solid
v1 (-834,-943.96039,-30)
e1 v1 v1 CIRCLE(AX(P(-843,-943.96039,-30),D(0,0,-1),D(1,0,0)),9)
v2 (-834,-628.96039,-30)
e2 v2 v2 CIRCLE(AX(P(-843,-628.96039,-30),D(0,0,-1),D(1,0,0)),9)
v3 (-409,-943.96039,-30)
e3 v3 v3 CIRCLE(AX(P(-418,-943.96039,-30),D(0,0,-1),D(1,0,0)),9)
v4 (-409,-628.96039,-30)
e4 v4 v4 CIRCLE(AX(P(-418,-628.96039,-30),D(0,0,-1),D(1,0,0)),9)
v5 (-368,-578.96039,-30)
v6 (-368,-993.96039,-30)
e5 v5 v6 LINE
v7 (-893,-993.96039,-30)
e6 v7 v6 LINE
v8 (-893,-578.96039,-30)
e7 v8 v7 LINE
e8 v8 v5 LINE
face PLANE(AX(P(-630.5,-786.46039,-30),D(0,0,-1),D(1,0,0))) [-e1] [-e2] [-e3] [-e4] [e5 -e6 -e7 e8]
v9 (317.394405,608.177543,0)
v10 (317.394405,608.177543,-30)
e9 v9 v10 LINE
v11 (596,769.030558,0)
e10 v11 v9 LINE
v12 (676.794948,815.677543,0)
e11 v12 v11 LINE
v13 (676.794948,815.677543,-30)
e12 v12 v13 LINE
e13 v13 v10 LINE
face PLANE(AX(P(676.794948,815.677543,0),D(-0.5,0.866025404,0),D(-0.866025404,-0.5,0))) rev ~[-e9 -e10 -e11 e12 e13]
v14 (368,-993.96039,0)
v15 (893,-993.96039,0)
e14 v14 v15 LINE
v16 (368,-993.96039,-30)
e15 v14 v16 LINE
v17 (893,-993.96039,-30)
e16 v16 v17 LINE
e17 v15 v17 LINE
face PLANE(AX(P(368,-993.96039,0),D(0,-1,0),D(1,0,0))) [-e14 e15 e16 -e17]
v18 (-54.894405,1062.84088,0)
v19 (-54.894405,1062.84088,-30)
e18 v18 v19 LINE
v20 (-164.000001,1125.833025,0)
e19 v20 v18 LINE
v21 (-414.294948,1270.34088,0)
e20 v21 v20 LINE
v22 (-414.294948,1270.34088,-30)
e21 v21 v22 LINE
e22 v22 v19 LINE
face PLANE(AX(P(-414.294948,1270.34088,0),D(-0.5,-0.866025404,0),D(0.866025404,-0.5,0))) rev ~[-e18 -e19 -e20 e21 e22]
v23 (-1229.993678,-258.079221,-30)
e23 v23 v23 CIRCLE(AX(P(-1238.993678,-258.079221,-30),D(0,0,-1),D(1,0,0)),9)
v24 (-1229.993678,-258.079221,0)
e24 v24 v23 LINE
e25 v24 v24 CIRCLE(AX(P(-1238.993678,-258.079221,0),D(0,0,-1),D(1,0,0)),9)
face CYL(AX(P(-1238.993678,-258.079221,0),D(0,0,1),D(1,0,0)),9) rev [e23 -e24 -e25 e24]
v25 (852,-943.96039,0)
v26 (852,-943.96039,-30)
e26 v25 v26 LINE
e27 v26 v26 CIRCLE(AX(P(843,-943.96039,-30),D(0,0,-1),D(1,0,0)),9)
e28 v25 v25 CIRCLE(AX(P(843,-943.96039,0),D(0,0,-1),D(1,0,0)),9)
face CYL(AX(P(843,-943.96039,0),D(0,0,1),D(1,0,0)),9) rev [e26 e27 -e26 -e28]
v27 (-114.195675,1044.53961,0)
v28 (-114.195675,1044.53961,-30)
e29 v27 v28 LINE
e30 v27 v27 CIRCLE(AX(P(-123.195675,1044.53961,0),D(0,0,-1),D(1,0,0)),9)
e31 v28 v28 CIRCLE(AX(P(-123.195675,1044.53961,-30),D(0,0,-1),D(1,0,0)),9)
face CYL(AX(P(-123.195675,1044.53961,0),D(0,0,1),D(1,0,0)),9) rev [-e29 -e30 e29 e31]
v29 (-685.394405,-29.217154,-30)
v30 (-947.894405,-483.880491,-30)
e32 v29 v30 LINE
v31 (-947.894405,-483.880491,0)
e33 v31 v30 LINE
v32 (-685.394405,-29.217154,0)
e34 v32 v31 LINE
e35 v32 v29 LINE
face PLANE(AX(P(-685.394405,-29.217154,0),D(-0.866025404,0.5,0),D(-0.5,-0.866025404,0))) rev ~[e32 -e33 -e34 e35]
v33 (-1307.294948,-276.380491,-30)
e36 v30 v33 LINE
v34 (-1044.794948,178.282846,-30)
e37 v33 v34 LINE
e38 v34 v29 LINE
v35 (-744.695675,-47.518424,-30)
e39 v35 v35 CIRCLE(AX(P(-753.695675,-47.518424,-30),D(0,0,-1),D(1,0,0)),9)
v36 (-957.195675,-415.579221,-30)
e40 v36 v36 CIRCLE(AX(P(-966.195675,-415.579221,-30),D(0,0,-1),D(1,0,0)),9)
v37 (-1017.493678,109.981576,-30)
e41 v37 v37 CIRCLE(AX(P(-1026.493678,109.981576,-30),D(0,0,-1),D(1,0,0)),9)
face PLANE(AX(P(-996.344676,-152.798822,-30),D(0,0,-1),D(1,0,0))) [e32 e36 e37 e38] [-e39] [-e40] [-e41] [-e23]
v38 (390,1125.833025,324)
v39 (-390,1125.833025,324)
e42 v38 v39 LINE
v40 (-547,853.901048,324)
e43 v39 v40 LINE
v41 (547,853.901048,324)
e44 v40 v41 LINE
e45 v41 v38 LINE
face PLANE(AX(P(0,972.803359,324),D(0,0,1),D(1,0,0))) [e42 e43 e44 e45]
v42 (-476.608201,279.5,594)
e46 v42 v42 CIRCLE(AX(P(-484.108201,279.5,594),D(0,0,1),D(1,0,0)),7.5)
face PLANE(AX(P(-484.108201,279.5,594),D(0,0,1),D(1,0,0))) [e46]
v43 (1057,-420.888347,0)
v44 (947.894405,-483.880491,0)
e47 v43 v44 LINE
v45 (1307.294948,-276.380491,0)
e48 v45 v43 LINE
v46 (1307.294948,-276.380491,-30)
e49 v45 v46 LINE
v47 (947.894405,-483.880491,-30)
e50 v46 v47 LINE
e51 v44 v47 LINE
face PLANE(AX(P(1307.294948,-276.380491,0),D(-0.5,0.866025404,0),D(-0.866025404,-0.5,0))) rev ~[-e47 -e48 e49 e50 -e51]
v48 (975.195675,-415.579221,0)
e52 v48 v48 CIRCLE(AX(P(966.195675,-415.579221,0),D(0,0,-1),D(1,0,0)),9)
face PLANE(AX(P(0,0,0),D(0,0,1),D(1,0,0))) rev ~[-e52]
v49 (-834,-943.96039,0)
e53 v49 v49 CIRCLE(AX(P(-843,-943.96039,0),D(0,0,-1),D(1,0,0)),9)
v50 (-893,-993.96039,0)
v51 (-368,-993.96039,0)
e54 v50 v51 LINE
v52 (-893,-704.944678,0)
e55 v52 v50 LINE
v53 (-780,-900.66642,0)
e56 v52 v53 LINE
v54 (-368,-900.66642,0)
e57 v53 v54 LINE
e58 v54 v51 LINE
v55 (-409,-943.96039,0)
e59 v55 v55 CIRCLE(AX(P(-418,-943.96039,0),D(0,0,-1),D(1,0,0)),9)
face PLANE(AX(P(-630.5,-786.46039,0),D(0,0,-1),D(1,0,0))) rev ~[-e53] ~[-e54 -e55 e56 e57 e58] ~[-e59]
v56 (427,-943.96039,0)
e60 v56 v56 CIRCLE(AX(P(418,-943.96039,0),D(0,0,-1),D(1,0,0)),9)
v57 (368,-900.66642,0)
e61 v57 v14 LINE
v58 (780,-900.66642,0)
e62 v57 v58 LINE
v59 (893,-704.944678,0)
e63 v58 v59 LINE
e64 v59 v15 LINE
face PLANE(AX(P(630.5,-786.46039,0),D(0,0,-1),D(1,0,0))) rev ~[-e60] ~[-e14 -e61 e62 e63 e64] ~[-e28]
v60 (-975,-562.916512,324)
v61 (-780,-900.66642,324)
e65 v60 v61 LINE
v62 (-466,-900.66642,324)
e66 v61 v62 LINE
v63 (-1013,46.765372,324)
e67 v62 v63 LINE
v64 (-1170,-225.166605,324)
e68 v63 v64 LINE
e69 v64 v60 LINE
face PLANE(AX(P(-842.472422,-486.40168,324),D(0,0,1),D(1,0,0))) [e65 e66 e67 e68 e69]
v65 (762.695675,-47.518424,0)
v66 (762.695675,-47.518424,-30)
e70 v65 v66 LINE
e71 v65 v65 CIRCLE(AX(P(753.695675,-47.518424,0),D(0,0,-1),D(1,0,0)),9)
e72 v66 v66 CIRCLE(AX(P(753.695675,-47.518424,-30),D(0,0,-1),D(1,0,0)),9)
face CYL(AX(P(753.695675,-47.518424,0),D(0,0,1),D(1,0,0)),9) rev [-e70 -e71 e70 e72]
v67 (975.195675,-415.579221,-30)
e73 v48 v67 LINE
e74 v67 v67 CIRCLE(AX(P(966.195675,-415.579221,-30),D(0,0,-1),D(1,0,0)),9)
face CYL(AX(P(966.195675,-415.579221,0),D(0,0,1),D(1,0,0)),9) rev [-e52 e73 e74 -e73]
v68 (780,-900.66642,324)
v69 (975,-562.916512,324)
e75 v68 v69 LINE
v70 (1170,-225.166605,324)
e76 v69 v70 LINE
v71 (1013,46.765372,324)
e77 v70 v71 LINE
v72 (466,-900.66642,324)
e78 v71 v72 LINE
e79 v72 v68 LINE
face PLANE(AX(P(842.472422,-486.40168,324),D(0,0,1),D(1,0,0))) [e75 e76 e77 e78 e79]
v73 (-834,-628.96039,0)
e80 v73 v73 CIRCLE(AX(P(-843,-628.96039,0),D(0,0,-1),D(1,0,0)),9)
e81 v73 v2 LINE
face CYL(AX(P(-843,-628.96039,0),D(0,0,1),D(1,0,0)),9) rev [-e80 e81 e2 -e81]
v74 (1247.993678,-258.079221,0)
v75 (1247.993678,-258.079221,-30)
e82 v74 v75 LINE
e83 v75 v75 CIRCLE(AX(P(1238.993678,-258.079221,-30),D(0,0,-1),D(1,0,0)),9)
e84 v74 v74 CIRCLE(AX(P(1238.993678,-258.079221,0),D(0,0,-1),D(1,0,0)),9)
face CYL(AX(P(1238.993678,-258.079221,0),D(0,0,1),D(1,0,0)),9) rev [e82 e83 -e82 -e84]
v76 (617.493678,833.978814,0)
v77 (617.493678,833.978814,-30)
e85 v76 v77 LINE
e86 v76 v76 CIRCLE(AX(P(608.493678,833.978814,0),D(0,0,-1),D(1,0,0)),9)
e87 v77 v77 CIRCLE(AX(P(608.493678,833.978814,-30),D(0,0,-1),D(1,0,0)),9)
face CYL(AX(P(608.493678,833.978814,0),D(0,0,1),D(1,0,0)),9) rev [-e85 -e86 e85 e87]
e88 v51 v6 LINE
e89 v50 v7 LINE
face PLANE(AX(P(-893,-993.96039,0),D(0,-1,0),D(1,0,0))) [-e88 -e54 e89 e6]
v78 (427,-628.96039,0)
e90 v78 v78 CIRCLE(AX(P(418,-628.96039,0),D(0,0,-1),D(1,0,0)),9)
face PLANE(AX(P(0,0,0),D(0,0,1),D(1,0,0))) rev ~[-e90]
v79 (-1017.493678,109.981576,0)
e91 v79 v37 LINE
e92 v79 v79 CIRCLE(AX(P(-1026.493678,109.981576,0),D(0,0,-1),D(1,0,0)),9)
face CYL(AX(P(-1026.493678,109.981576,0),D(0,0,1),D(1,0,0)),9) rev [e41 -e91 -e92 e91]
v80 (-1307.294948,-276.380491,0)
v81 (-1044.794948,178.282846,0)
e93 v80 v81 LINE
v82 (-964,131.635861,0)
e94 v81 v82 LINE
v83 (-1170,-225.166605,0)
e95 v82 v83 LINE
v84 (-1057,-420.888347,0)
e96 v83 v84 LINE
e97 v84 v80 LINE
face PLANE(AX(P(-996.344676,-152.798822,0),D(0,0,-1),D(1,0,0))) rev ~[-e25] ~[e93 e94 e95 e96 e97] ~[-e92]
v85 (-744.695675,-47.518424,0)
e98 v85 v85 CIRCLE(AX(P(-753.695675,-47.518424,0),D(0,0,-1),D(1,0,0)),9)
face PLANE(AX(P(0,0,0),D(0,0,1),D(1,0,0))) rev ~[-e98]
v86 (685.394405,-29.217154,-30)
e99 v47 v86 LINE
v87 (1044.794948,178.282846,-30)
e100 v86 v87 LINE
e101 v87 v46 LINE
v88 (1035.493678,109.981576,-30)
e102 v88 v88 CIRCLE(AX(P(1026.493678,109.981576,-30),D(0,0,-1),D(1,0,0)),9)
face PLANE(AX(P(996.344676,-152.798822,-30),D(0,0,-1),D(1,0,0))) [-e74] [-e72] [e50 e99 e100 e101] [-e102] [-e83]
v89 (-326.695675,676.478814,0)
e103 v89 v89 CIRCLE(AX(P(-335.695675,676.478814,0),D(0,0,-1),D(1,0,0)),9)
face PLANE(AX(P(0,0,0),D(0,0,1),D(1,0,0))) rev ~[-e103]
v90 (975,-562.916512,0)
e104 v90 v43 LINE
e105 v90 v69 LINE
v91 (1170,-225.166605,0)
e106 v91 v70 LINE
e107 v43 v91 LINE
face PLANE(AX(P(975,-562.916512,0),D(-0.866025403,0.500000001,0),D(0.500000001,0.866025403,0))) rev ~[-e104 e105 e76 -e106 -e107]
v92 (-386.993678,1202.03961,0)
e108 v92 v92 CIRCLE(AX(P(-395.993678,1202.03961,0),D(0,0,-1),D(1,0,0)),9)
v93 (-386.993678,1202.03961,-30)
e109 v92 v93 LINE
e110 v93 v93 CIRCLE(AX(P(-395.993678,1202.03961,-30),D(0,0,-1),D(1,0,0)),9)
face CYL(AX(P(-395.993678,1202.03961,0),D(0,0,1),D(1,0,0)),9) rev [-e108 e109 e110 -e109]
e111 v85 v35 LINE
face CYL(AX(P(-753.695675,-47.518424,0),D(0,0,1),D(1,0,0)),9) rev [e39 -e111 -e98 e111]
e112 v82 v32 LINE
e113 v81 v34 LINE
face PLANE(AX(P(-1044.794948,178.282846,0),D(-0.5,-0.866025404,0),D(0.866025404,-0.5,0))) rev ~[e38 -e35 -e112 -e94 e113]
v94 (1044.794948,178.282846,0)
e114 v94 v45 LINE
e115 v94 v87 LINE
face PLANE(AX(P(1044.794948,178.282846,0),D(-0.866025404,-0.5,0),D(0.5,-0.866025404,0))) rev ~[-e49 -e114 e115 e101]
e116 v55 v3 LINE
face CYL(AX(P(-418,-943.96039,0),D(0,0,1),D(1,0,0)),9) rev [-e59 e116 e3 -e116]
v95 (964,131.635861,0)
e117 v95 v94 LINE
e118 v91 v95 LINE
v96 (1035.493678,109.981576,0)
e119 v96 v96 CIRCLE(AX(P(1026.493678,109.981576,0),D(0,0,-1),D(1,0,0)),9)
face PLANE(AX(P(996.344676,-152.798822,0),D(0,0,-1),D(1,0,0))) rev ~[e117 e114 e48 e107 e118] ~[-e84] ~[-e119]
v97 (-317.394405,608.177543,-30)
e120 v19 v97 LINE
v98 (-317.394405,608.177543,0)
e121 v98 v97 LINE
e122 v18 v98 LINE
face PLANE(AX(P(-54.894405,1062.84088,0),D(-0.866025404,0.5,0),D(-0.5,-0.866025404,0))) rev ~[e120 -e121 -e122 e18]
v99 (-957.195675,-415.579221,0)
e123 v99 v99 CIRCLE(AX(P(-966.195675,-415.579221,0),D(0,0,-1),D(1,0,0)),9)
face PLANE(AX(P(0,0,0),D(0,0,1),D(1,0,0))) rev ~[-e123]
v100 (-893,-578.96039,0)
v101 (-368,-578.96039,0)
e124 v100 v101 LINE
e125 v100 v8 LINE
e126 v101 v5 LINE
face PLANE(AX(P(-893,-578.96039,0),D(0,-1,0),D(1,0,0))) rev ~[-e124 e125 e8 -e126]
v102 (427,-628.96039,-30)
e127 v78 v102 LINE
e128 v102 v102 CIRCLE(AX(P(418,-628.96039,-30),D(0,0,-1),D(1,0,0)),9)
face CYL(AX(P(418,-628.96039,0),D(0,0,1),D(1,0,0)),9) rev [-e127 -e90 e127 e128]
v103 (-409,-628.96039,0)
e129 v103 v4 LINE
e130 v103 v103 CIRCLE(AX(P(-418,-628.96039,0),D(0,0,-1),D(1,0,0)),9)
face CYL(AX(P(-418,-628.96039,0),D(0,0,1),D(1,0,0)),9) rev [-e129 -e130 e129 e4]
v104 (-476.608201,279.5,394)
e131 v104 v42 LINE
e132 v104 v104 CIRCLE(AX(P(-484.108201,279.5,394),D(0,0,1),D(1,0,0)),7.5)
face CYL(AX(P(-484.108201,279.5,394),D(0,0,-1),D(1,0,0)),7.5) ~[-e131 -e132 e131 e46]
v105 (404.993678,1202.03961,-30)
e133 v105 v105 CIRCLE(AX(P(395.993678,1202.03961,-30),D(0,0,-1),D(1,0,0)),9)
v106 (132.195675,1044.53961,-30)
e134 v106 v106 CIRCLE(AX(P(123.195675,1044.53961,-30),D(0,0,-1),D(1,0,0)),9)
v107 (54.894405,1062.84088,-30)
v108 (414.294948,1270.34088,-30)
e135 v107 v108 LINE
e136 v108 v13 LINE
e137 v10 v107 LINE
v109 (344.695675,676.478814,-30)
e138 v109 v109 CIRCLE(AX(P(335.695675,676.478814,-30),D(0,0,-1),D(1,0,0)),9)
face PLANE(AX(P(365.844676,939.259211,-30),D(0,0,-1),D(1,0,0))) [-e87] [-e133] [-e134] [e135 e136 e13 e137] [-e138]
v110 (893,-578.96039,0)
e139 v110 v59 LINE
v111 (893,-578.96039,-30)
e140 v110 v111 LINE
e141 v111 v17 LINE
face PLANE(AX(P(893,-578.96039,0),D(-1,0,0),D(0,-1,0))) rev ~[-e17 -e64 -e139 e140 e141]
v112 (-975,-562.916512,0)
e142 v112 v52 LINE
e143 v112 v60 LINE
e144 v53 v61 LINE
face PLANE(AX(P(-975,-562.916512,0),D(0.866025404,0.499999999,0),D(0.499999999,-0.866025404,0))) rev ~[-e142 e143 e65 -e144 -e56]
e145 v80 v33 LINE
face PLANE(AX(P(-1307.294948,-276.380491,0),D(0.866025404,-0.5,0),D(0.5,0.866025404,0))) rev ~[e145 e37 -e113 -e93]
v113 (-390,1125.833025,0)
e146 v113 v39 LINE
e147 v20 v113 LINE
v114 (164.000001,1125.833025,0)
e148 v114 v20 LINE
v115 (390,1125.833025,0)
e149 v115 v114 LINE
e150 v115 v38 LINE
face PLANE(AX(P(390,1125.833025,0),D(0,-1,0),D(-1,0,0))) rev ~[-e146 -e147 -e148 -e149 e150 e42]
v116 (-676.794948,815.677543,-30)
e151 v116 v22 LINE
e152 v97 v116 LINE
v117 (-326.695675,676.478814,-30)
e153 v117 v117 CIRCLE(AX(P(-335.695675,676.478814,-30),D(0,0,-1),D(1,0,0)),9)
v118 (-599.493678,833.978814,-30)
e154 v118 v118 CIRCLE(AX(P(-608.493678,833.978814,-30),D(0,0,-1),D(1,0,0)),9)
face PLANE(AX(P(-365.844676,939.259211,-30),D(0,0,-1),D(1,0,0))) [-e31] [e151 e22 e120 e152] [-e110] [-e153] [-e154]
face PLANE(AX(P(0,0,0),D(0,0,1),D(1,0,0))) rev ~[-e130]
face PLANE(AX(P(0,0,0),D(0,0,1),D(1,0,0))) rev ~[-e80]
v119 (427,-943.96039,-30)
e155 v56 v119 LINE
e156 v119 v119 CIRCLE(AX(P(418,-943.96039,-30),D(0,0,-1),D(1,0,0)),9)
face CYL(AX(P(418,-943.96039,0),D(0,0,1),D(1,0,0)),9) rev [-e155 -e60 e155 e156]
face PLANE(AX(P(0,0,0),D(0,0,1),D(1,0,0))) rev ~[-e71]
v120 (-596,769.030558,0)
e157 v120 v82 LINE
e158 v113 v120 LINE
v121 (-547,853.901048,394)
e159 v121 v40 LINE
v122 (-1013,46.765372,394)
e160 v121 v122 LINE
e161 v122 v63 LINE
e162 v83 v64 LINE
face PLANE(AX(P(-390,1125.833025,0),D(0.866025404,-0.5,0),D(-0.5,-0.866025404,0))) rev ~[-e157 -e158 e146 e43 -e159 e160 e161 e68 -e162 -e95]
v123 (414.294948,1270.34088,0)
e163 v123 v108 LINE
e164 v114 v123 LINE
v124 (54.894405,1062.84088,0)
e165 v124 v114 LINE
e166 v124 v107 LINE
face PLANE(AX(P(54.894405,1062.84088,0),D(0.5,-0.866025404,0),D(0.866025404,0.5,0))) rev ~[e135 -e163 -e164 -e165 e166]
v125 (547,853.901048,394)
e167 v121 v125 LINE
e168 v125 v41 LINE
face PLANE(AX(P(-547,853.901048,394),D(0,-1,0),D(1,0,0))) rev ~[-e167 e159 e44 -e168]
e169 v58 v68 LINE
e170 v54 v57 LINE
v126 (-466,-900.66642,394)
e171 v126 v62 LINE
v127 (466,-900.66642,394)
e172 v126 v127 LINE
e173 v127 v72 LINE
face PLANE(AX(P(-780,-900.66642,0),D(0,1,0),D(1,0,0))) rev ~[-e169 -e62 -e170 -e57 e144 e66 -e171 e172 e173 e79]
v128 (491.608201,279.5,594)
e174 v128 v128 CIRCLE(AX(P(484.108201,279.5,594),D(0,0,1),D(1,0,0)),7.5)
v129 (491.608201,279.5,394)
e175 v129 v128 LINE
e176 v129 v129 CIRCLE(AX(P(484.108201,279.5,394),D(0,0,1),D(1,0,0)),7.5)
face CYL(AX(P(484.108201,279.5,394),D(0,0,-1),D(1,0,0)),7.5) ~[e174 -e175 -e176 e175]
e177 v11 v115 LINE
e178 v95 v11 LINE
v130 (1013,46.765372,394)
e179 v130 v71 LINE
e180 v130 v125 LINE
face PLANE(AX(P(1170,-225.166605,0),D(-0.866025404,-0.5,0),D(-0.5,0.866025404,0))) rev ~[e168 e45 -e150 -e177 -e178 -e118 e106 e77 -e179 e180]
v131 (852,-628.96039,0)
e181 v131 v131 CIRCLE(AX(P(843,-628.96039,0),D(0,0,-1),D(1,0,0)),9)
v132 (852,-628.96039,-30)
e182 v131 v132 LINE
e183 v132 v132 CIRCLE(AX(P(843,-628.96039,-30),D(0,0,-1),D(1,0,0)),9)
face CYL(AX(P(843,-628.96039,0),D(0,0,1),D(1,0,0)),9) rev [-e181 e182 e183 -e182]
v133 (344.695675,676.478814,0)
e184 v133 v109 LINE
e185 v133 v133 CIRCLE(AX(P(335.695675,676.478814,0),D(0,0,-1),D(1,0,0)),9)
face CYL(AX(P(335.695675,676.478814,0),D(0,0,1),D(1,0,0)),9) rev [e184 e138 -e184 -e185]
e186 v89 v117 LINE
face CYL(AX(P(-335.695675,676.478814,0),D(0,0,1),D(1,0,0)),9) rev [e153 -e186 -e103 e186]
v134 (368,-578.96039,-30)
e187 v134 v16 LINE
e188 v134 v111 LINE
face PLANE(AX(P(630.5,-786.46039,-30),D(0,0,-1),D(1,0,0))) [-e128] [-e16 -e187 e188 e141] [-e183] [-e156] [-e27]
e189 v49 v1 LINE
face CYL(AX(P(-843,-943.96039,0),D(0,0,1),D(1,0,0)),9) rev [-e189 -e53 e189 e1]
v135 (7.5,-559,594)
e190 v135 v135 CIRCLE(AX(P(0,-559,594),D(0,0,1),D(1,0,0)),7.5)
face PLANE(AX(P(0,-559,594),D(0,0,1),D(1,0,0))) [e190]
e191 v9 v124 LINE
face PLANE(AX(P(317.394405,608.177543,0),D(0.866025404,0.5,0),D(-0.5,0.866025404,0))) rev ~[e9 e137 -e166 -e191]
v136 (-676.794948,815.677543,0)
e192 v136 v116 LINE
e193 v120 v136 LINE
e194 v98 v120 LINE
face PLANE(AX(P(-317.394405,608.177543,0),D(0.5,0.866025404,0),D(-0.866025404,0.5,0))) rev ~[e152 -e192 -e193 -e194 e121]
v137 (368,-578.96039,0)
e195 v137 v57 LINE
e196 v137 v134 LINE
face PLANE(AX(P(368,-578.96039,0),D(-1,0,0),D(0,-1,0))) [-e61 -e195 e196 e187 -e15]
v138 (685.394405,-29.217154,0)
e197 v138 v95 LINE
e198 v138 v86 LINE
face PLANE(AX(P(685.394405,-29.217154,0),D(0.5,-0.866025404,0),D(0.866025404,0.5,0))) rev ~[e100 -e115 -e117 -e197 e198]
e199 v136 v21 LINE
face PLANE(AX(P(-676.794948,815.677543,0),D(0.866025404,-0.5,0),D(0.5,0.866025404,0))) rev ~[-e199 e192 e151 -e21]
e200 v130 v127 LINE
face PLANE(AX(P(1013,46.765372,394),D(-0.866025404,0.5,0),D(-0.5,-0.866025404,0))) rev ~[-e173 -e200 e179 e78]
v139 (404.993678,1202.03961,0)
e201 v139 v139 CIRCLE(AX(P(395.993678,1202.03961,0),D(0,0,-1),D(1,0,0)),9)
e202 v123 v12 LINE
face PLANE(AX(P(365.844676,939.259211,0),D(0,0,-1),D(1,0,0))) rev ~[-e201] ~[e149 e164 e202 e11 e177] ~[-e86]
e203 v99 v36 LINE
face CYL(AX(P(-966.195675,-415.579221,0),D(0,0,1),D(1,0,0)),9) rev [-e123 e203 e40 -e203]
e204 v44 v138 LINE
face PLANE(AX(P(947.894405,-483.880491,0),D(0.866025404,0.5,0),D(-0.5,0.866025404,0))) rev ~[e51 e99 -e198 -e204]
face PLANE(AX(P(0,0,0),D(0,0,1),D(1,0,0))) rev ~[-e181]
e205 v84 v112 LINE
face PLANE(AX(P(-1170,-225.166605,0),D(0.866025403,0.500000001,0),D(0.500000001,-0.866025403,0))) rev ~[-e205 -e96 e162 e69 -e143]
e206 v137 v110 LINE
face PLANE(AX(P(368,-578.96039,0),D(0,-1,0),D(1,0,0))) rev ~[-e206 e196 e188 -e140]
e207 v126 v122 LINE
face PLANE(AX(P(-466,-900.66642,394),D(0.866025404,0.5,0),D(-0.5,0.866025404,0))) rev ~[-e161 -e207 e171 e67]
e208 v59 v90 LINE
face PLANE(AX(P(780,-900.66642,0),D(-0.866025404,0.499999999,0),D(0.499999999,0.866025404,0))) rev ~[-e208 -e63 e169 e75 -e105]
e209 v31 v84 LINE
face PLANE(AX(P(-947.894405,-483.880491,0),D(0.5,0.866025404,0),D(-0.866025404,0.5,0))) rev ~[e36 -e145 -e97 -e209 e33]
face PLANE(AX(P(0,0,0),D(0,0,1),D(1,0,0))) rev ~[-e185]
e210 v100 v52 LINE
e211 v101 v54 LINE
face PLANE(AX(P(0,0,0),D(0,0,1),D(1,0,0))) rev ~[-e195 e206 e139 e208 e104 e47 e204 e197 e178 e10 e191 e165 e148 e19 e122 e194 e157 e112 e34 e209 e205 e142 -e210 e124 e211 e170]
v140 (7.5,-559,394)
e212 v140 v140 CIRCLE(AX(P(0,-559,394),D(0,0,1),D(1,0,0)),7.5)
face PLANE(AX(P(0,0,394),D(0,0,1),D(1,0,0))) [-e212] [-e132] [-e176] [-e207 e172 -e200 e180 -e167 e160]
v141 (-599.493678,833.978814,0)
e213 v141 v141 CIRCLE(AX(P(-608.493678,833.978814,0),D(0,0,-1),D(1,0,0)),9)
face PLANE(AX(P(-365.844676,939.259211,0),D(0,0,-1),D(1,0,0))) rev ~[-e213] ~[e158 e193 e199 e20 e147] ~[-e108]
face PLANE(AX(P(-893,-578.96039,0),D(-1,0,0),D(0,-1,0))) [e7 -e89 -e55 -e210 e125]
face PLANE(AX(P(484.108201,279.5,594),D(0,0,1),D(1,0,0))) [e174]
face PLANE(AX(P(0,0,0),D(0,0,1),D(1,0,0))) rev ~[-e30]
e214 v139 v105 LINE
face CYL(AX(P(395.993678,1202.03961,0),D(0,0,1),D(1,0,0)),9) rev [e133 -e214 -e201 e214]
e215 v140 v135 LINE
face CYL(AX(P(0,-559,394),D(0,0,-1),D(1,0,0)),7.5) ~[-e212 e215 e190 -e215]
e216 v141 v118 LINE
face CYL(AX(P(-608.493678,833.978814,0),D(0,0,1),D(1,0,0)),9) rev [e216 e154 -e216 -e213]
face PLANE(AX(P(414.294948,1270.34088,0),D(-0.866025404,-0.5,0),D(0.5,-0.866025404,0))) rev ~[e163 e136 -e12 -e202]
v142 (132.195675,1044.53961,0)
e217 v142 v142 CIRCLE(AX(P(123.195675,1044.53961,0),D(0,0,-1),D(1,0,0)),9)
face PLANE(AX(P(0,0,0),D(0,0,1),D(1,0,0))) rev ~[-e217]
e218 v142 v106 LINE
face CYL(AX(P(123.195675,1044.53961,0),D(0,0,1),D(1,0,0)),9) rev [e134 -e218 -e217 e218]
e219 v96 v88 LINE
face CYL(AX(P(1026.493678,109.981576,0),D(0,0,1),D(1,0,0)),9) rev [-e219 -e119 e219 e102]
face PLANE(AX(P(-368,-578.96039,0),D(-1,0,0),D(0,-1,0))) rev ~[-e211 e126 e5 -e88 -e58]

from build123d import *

# Parameters (mm, degrees)
F1_DEPTH = 394
F3_DEPTH = 70
F4_W     = 525
F4_H     = 415
F4_R     = 9
F5_DEPTH = 30
F6_R     = 7.5
F7_DEPTH = 200


with BuildPart() as f1:
    # F0 (on Top) → F1 (new body)
    with BuildSketch(Plane.XY):
        Polygon((390, 1125.833025), (0, 1125.833025), (-390, 1125.833025), (-780, 450.33321), (-1170, -225.166605), (-975, -562.916512), (-780, -900.66642), (0, -900.66642), (780, -900.66642), (975, -562.916512), (1170, -225.166605), (780, 450.33321), align=None)
    extrude(amount=F1_DEPTH)

    # F2 (on face) → F3 (cut)
    with BuildSketch(Plane.XY.offset(394)):
        Polygon((390, 1125.833025), (-390, 1125.833025), (-547, 853.901048), (547, 853.901048), align=None)
        Polygon((1170, -225.166605), (1013, 46.765372), (466, -900.66642), (780, -900.66642), align=None)
        Polygon((-780, -900.66642), (-466, -900.66642), (-1013, 46.765372), (-1170, -225.166605), align=None)
    extrude(amount=-F3_DEPTH, mode=Mode.SUBTRACT)

    # F4 (on face) → F5 (join)
    with BuildSketch(Plane(origin=(0, 0, 0), x_dir=(1, 0, 0), z_dir=(0, 0, -1))):
        with Locations((630.5, 786.46039)):
            Rectangle(F4_W, F4_H)
        with Locations((418, 628.96039)):
            Circle(F4_R, mode=Mode.SUBTRACT)
        with Locations((418, 943.96039)):
            Circle(F4_R, mode=Mode.SUBTRACT)
        with Locations((843, 628.96039)):
            Circle(F4_R, mode=Mode.SUBTRACT)
        with Locations((843, 943.96039)):
            Circle(F4_R, mode=Mode.SUBTRACT)
        with Locations((-630.5, 786.46039)):
            Rectangle(F4_W, F4_H)
        with Locations((-843, 628.96039)):
            Circle(F4_R, mode=Mode.SUBTRACT)
        with Locations((-843, 943.96039)):
            Circle(F4_R, mode=Mode.SUBTRACT)
        with Locations((-418, 628.96039)):
            Circle(F4_R, mode=Mode.SUBTRACT)
        with Locations((-418, 943.96039)):
            Circle(F4_R, mode=Mode.SUBTRACT)
        Polygon((-54.894405, -1062.84088), (-317.394405, -608.177543), (-676.794948, -815.677543), (-414.294948, -1270.34088), align=None)
        with Locations((-395.993678, -1202.03961)):
            Circle(F4_R, mode=Mode.SUBTRACT)
        with Locations((-123.195675, -1044.53961)):
            Circle(F4_R, mode=Mode.SUBTRACT)
        with Locations((-608.493678, -833.978814)):
            Circle(F4_R, mode=Mode.SUBTRACT)
        with Locations((-335.695675, -676.478814)):
            Circle(F4_R, mode=Mode.SUBTRACT)
        Polygon((-1044.794948, -178.282846), (-685.394405, 29.217154), (-947.894405, 483.880491), (-1307.294948, 276.380491), align=None)
        with Locations((-1026.493678, -109.981576)):
            Circle(F4_R, mode=Mode.SUBTRACT)
        with Locations((-753.695675, 47.518424)):
            Circle(F4_R, mode=Mode.SUBTRACT)
        with Locations((-1238.993678, 258.079221)):
            Circle(F4_R, mode=Mode.SUBTRACT)
        with Locations((-966.195675, 415.579221)):
            Circle(F4_R, mode=Mode.SUBTRACT)
        Polygon((676.794948, -815.677543), (317.394405, -608.177543), (54.894405, -1062.84088), (414.294948, -1270.34088), align=None)
        with Locations((123.195675, -1044.53961)):
            Circle(F4_R, mode=Mode.SUBTRACT)
        with Locations((395.993678, -1202.03961)):
            Circle(F4_R, mode=Mode.SUBTRACT)
        with Locations((608.493678, -833.978814)):
            Circle(F4_R, mode=Mode.SUBTRACT)
        with Locations((335.695675, -676.478814)):
            Circle(F4_R, mode=Mode.SUBTRACT)
        Polygon((947.894405, 483.880491), (685.394405, 29.217154), (1044.794948, -178.282846), (1307.294948, 276.380491), align=None)
        with Locations((753.695675, 47.518424)):
            Circle(F4_R, mode=Mode.SUBTRACT)
        with Locations((1026.493678, -109.981576)):
            Circle(F4_R, mode=Mode.SUBTRACT)
        with Locations((966.195675, 415.579221)):
            Circle(F4_R, mode=Mode.SUBTRACT)
        with Locations((1238.993678, 258.079221)):
            Circle(F4_R, mode=Mode.SUBTRACT)
    extrude(amount=F5_DEPTH)

    # F6 (on face) → F7 (join)
    with BuildSketch(Plane.XY.offset(394)):
        with Locations((0, -559)):
            Circle(F6_R)
        with Locations((-484.108201, 279.5)):
            Circle(F6_R)
        with Locations((484.108201, 279.5)):
            Circle(F6_R)
    extrude(amount=F7_DEPTH)


solid = f1.part
